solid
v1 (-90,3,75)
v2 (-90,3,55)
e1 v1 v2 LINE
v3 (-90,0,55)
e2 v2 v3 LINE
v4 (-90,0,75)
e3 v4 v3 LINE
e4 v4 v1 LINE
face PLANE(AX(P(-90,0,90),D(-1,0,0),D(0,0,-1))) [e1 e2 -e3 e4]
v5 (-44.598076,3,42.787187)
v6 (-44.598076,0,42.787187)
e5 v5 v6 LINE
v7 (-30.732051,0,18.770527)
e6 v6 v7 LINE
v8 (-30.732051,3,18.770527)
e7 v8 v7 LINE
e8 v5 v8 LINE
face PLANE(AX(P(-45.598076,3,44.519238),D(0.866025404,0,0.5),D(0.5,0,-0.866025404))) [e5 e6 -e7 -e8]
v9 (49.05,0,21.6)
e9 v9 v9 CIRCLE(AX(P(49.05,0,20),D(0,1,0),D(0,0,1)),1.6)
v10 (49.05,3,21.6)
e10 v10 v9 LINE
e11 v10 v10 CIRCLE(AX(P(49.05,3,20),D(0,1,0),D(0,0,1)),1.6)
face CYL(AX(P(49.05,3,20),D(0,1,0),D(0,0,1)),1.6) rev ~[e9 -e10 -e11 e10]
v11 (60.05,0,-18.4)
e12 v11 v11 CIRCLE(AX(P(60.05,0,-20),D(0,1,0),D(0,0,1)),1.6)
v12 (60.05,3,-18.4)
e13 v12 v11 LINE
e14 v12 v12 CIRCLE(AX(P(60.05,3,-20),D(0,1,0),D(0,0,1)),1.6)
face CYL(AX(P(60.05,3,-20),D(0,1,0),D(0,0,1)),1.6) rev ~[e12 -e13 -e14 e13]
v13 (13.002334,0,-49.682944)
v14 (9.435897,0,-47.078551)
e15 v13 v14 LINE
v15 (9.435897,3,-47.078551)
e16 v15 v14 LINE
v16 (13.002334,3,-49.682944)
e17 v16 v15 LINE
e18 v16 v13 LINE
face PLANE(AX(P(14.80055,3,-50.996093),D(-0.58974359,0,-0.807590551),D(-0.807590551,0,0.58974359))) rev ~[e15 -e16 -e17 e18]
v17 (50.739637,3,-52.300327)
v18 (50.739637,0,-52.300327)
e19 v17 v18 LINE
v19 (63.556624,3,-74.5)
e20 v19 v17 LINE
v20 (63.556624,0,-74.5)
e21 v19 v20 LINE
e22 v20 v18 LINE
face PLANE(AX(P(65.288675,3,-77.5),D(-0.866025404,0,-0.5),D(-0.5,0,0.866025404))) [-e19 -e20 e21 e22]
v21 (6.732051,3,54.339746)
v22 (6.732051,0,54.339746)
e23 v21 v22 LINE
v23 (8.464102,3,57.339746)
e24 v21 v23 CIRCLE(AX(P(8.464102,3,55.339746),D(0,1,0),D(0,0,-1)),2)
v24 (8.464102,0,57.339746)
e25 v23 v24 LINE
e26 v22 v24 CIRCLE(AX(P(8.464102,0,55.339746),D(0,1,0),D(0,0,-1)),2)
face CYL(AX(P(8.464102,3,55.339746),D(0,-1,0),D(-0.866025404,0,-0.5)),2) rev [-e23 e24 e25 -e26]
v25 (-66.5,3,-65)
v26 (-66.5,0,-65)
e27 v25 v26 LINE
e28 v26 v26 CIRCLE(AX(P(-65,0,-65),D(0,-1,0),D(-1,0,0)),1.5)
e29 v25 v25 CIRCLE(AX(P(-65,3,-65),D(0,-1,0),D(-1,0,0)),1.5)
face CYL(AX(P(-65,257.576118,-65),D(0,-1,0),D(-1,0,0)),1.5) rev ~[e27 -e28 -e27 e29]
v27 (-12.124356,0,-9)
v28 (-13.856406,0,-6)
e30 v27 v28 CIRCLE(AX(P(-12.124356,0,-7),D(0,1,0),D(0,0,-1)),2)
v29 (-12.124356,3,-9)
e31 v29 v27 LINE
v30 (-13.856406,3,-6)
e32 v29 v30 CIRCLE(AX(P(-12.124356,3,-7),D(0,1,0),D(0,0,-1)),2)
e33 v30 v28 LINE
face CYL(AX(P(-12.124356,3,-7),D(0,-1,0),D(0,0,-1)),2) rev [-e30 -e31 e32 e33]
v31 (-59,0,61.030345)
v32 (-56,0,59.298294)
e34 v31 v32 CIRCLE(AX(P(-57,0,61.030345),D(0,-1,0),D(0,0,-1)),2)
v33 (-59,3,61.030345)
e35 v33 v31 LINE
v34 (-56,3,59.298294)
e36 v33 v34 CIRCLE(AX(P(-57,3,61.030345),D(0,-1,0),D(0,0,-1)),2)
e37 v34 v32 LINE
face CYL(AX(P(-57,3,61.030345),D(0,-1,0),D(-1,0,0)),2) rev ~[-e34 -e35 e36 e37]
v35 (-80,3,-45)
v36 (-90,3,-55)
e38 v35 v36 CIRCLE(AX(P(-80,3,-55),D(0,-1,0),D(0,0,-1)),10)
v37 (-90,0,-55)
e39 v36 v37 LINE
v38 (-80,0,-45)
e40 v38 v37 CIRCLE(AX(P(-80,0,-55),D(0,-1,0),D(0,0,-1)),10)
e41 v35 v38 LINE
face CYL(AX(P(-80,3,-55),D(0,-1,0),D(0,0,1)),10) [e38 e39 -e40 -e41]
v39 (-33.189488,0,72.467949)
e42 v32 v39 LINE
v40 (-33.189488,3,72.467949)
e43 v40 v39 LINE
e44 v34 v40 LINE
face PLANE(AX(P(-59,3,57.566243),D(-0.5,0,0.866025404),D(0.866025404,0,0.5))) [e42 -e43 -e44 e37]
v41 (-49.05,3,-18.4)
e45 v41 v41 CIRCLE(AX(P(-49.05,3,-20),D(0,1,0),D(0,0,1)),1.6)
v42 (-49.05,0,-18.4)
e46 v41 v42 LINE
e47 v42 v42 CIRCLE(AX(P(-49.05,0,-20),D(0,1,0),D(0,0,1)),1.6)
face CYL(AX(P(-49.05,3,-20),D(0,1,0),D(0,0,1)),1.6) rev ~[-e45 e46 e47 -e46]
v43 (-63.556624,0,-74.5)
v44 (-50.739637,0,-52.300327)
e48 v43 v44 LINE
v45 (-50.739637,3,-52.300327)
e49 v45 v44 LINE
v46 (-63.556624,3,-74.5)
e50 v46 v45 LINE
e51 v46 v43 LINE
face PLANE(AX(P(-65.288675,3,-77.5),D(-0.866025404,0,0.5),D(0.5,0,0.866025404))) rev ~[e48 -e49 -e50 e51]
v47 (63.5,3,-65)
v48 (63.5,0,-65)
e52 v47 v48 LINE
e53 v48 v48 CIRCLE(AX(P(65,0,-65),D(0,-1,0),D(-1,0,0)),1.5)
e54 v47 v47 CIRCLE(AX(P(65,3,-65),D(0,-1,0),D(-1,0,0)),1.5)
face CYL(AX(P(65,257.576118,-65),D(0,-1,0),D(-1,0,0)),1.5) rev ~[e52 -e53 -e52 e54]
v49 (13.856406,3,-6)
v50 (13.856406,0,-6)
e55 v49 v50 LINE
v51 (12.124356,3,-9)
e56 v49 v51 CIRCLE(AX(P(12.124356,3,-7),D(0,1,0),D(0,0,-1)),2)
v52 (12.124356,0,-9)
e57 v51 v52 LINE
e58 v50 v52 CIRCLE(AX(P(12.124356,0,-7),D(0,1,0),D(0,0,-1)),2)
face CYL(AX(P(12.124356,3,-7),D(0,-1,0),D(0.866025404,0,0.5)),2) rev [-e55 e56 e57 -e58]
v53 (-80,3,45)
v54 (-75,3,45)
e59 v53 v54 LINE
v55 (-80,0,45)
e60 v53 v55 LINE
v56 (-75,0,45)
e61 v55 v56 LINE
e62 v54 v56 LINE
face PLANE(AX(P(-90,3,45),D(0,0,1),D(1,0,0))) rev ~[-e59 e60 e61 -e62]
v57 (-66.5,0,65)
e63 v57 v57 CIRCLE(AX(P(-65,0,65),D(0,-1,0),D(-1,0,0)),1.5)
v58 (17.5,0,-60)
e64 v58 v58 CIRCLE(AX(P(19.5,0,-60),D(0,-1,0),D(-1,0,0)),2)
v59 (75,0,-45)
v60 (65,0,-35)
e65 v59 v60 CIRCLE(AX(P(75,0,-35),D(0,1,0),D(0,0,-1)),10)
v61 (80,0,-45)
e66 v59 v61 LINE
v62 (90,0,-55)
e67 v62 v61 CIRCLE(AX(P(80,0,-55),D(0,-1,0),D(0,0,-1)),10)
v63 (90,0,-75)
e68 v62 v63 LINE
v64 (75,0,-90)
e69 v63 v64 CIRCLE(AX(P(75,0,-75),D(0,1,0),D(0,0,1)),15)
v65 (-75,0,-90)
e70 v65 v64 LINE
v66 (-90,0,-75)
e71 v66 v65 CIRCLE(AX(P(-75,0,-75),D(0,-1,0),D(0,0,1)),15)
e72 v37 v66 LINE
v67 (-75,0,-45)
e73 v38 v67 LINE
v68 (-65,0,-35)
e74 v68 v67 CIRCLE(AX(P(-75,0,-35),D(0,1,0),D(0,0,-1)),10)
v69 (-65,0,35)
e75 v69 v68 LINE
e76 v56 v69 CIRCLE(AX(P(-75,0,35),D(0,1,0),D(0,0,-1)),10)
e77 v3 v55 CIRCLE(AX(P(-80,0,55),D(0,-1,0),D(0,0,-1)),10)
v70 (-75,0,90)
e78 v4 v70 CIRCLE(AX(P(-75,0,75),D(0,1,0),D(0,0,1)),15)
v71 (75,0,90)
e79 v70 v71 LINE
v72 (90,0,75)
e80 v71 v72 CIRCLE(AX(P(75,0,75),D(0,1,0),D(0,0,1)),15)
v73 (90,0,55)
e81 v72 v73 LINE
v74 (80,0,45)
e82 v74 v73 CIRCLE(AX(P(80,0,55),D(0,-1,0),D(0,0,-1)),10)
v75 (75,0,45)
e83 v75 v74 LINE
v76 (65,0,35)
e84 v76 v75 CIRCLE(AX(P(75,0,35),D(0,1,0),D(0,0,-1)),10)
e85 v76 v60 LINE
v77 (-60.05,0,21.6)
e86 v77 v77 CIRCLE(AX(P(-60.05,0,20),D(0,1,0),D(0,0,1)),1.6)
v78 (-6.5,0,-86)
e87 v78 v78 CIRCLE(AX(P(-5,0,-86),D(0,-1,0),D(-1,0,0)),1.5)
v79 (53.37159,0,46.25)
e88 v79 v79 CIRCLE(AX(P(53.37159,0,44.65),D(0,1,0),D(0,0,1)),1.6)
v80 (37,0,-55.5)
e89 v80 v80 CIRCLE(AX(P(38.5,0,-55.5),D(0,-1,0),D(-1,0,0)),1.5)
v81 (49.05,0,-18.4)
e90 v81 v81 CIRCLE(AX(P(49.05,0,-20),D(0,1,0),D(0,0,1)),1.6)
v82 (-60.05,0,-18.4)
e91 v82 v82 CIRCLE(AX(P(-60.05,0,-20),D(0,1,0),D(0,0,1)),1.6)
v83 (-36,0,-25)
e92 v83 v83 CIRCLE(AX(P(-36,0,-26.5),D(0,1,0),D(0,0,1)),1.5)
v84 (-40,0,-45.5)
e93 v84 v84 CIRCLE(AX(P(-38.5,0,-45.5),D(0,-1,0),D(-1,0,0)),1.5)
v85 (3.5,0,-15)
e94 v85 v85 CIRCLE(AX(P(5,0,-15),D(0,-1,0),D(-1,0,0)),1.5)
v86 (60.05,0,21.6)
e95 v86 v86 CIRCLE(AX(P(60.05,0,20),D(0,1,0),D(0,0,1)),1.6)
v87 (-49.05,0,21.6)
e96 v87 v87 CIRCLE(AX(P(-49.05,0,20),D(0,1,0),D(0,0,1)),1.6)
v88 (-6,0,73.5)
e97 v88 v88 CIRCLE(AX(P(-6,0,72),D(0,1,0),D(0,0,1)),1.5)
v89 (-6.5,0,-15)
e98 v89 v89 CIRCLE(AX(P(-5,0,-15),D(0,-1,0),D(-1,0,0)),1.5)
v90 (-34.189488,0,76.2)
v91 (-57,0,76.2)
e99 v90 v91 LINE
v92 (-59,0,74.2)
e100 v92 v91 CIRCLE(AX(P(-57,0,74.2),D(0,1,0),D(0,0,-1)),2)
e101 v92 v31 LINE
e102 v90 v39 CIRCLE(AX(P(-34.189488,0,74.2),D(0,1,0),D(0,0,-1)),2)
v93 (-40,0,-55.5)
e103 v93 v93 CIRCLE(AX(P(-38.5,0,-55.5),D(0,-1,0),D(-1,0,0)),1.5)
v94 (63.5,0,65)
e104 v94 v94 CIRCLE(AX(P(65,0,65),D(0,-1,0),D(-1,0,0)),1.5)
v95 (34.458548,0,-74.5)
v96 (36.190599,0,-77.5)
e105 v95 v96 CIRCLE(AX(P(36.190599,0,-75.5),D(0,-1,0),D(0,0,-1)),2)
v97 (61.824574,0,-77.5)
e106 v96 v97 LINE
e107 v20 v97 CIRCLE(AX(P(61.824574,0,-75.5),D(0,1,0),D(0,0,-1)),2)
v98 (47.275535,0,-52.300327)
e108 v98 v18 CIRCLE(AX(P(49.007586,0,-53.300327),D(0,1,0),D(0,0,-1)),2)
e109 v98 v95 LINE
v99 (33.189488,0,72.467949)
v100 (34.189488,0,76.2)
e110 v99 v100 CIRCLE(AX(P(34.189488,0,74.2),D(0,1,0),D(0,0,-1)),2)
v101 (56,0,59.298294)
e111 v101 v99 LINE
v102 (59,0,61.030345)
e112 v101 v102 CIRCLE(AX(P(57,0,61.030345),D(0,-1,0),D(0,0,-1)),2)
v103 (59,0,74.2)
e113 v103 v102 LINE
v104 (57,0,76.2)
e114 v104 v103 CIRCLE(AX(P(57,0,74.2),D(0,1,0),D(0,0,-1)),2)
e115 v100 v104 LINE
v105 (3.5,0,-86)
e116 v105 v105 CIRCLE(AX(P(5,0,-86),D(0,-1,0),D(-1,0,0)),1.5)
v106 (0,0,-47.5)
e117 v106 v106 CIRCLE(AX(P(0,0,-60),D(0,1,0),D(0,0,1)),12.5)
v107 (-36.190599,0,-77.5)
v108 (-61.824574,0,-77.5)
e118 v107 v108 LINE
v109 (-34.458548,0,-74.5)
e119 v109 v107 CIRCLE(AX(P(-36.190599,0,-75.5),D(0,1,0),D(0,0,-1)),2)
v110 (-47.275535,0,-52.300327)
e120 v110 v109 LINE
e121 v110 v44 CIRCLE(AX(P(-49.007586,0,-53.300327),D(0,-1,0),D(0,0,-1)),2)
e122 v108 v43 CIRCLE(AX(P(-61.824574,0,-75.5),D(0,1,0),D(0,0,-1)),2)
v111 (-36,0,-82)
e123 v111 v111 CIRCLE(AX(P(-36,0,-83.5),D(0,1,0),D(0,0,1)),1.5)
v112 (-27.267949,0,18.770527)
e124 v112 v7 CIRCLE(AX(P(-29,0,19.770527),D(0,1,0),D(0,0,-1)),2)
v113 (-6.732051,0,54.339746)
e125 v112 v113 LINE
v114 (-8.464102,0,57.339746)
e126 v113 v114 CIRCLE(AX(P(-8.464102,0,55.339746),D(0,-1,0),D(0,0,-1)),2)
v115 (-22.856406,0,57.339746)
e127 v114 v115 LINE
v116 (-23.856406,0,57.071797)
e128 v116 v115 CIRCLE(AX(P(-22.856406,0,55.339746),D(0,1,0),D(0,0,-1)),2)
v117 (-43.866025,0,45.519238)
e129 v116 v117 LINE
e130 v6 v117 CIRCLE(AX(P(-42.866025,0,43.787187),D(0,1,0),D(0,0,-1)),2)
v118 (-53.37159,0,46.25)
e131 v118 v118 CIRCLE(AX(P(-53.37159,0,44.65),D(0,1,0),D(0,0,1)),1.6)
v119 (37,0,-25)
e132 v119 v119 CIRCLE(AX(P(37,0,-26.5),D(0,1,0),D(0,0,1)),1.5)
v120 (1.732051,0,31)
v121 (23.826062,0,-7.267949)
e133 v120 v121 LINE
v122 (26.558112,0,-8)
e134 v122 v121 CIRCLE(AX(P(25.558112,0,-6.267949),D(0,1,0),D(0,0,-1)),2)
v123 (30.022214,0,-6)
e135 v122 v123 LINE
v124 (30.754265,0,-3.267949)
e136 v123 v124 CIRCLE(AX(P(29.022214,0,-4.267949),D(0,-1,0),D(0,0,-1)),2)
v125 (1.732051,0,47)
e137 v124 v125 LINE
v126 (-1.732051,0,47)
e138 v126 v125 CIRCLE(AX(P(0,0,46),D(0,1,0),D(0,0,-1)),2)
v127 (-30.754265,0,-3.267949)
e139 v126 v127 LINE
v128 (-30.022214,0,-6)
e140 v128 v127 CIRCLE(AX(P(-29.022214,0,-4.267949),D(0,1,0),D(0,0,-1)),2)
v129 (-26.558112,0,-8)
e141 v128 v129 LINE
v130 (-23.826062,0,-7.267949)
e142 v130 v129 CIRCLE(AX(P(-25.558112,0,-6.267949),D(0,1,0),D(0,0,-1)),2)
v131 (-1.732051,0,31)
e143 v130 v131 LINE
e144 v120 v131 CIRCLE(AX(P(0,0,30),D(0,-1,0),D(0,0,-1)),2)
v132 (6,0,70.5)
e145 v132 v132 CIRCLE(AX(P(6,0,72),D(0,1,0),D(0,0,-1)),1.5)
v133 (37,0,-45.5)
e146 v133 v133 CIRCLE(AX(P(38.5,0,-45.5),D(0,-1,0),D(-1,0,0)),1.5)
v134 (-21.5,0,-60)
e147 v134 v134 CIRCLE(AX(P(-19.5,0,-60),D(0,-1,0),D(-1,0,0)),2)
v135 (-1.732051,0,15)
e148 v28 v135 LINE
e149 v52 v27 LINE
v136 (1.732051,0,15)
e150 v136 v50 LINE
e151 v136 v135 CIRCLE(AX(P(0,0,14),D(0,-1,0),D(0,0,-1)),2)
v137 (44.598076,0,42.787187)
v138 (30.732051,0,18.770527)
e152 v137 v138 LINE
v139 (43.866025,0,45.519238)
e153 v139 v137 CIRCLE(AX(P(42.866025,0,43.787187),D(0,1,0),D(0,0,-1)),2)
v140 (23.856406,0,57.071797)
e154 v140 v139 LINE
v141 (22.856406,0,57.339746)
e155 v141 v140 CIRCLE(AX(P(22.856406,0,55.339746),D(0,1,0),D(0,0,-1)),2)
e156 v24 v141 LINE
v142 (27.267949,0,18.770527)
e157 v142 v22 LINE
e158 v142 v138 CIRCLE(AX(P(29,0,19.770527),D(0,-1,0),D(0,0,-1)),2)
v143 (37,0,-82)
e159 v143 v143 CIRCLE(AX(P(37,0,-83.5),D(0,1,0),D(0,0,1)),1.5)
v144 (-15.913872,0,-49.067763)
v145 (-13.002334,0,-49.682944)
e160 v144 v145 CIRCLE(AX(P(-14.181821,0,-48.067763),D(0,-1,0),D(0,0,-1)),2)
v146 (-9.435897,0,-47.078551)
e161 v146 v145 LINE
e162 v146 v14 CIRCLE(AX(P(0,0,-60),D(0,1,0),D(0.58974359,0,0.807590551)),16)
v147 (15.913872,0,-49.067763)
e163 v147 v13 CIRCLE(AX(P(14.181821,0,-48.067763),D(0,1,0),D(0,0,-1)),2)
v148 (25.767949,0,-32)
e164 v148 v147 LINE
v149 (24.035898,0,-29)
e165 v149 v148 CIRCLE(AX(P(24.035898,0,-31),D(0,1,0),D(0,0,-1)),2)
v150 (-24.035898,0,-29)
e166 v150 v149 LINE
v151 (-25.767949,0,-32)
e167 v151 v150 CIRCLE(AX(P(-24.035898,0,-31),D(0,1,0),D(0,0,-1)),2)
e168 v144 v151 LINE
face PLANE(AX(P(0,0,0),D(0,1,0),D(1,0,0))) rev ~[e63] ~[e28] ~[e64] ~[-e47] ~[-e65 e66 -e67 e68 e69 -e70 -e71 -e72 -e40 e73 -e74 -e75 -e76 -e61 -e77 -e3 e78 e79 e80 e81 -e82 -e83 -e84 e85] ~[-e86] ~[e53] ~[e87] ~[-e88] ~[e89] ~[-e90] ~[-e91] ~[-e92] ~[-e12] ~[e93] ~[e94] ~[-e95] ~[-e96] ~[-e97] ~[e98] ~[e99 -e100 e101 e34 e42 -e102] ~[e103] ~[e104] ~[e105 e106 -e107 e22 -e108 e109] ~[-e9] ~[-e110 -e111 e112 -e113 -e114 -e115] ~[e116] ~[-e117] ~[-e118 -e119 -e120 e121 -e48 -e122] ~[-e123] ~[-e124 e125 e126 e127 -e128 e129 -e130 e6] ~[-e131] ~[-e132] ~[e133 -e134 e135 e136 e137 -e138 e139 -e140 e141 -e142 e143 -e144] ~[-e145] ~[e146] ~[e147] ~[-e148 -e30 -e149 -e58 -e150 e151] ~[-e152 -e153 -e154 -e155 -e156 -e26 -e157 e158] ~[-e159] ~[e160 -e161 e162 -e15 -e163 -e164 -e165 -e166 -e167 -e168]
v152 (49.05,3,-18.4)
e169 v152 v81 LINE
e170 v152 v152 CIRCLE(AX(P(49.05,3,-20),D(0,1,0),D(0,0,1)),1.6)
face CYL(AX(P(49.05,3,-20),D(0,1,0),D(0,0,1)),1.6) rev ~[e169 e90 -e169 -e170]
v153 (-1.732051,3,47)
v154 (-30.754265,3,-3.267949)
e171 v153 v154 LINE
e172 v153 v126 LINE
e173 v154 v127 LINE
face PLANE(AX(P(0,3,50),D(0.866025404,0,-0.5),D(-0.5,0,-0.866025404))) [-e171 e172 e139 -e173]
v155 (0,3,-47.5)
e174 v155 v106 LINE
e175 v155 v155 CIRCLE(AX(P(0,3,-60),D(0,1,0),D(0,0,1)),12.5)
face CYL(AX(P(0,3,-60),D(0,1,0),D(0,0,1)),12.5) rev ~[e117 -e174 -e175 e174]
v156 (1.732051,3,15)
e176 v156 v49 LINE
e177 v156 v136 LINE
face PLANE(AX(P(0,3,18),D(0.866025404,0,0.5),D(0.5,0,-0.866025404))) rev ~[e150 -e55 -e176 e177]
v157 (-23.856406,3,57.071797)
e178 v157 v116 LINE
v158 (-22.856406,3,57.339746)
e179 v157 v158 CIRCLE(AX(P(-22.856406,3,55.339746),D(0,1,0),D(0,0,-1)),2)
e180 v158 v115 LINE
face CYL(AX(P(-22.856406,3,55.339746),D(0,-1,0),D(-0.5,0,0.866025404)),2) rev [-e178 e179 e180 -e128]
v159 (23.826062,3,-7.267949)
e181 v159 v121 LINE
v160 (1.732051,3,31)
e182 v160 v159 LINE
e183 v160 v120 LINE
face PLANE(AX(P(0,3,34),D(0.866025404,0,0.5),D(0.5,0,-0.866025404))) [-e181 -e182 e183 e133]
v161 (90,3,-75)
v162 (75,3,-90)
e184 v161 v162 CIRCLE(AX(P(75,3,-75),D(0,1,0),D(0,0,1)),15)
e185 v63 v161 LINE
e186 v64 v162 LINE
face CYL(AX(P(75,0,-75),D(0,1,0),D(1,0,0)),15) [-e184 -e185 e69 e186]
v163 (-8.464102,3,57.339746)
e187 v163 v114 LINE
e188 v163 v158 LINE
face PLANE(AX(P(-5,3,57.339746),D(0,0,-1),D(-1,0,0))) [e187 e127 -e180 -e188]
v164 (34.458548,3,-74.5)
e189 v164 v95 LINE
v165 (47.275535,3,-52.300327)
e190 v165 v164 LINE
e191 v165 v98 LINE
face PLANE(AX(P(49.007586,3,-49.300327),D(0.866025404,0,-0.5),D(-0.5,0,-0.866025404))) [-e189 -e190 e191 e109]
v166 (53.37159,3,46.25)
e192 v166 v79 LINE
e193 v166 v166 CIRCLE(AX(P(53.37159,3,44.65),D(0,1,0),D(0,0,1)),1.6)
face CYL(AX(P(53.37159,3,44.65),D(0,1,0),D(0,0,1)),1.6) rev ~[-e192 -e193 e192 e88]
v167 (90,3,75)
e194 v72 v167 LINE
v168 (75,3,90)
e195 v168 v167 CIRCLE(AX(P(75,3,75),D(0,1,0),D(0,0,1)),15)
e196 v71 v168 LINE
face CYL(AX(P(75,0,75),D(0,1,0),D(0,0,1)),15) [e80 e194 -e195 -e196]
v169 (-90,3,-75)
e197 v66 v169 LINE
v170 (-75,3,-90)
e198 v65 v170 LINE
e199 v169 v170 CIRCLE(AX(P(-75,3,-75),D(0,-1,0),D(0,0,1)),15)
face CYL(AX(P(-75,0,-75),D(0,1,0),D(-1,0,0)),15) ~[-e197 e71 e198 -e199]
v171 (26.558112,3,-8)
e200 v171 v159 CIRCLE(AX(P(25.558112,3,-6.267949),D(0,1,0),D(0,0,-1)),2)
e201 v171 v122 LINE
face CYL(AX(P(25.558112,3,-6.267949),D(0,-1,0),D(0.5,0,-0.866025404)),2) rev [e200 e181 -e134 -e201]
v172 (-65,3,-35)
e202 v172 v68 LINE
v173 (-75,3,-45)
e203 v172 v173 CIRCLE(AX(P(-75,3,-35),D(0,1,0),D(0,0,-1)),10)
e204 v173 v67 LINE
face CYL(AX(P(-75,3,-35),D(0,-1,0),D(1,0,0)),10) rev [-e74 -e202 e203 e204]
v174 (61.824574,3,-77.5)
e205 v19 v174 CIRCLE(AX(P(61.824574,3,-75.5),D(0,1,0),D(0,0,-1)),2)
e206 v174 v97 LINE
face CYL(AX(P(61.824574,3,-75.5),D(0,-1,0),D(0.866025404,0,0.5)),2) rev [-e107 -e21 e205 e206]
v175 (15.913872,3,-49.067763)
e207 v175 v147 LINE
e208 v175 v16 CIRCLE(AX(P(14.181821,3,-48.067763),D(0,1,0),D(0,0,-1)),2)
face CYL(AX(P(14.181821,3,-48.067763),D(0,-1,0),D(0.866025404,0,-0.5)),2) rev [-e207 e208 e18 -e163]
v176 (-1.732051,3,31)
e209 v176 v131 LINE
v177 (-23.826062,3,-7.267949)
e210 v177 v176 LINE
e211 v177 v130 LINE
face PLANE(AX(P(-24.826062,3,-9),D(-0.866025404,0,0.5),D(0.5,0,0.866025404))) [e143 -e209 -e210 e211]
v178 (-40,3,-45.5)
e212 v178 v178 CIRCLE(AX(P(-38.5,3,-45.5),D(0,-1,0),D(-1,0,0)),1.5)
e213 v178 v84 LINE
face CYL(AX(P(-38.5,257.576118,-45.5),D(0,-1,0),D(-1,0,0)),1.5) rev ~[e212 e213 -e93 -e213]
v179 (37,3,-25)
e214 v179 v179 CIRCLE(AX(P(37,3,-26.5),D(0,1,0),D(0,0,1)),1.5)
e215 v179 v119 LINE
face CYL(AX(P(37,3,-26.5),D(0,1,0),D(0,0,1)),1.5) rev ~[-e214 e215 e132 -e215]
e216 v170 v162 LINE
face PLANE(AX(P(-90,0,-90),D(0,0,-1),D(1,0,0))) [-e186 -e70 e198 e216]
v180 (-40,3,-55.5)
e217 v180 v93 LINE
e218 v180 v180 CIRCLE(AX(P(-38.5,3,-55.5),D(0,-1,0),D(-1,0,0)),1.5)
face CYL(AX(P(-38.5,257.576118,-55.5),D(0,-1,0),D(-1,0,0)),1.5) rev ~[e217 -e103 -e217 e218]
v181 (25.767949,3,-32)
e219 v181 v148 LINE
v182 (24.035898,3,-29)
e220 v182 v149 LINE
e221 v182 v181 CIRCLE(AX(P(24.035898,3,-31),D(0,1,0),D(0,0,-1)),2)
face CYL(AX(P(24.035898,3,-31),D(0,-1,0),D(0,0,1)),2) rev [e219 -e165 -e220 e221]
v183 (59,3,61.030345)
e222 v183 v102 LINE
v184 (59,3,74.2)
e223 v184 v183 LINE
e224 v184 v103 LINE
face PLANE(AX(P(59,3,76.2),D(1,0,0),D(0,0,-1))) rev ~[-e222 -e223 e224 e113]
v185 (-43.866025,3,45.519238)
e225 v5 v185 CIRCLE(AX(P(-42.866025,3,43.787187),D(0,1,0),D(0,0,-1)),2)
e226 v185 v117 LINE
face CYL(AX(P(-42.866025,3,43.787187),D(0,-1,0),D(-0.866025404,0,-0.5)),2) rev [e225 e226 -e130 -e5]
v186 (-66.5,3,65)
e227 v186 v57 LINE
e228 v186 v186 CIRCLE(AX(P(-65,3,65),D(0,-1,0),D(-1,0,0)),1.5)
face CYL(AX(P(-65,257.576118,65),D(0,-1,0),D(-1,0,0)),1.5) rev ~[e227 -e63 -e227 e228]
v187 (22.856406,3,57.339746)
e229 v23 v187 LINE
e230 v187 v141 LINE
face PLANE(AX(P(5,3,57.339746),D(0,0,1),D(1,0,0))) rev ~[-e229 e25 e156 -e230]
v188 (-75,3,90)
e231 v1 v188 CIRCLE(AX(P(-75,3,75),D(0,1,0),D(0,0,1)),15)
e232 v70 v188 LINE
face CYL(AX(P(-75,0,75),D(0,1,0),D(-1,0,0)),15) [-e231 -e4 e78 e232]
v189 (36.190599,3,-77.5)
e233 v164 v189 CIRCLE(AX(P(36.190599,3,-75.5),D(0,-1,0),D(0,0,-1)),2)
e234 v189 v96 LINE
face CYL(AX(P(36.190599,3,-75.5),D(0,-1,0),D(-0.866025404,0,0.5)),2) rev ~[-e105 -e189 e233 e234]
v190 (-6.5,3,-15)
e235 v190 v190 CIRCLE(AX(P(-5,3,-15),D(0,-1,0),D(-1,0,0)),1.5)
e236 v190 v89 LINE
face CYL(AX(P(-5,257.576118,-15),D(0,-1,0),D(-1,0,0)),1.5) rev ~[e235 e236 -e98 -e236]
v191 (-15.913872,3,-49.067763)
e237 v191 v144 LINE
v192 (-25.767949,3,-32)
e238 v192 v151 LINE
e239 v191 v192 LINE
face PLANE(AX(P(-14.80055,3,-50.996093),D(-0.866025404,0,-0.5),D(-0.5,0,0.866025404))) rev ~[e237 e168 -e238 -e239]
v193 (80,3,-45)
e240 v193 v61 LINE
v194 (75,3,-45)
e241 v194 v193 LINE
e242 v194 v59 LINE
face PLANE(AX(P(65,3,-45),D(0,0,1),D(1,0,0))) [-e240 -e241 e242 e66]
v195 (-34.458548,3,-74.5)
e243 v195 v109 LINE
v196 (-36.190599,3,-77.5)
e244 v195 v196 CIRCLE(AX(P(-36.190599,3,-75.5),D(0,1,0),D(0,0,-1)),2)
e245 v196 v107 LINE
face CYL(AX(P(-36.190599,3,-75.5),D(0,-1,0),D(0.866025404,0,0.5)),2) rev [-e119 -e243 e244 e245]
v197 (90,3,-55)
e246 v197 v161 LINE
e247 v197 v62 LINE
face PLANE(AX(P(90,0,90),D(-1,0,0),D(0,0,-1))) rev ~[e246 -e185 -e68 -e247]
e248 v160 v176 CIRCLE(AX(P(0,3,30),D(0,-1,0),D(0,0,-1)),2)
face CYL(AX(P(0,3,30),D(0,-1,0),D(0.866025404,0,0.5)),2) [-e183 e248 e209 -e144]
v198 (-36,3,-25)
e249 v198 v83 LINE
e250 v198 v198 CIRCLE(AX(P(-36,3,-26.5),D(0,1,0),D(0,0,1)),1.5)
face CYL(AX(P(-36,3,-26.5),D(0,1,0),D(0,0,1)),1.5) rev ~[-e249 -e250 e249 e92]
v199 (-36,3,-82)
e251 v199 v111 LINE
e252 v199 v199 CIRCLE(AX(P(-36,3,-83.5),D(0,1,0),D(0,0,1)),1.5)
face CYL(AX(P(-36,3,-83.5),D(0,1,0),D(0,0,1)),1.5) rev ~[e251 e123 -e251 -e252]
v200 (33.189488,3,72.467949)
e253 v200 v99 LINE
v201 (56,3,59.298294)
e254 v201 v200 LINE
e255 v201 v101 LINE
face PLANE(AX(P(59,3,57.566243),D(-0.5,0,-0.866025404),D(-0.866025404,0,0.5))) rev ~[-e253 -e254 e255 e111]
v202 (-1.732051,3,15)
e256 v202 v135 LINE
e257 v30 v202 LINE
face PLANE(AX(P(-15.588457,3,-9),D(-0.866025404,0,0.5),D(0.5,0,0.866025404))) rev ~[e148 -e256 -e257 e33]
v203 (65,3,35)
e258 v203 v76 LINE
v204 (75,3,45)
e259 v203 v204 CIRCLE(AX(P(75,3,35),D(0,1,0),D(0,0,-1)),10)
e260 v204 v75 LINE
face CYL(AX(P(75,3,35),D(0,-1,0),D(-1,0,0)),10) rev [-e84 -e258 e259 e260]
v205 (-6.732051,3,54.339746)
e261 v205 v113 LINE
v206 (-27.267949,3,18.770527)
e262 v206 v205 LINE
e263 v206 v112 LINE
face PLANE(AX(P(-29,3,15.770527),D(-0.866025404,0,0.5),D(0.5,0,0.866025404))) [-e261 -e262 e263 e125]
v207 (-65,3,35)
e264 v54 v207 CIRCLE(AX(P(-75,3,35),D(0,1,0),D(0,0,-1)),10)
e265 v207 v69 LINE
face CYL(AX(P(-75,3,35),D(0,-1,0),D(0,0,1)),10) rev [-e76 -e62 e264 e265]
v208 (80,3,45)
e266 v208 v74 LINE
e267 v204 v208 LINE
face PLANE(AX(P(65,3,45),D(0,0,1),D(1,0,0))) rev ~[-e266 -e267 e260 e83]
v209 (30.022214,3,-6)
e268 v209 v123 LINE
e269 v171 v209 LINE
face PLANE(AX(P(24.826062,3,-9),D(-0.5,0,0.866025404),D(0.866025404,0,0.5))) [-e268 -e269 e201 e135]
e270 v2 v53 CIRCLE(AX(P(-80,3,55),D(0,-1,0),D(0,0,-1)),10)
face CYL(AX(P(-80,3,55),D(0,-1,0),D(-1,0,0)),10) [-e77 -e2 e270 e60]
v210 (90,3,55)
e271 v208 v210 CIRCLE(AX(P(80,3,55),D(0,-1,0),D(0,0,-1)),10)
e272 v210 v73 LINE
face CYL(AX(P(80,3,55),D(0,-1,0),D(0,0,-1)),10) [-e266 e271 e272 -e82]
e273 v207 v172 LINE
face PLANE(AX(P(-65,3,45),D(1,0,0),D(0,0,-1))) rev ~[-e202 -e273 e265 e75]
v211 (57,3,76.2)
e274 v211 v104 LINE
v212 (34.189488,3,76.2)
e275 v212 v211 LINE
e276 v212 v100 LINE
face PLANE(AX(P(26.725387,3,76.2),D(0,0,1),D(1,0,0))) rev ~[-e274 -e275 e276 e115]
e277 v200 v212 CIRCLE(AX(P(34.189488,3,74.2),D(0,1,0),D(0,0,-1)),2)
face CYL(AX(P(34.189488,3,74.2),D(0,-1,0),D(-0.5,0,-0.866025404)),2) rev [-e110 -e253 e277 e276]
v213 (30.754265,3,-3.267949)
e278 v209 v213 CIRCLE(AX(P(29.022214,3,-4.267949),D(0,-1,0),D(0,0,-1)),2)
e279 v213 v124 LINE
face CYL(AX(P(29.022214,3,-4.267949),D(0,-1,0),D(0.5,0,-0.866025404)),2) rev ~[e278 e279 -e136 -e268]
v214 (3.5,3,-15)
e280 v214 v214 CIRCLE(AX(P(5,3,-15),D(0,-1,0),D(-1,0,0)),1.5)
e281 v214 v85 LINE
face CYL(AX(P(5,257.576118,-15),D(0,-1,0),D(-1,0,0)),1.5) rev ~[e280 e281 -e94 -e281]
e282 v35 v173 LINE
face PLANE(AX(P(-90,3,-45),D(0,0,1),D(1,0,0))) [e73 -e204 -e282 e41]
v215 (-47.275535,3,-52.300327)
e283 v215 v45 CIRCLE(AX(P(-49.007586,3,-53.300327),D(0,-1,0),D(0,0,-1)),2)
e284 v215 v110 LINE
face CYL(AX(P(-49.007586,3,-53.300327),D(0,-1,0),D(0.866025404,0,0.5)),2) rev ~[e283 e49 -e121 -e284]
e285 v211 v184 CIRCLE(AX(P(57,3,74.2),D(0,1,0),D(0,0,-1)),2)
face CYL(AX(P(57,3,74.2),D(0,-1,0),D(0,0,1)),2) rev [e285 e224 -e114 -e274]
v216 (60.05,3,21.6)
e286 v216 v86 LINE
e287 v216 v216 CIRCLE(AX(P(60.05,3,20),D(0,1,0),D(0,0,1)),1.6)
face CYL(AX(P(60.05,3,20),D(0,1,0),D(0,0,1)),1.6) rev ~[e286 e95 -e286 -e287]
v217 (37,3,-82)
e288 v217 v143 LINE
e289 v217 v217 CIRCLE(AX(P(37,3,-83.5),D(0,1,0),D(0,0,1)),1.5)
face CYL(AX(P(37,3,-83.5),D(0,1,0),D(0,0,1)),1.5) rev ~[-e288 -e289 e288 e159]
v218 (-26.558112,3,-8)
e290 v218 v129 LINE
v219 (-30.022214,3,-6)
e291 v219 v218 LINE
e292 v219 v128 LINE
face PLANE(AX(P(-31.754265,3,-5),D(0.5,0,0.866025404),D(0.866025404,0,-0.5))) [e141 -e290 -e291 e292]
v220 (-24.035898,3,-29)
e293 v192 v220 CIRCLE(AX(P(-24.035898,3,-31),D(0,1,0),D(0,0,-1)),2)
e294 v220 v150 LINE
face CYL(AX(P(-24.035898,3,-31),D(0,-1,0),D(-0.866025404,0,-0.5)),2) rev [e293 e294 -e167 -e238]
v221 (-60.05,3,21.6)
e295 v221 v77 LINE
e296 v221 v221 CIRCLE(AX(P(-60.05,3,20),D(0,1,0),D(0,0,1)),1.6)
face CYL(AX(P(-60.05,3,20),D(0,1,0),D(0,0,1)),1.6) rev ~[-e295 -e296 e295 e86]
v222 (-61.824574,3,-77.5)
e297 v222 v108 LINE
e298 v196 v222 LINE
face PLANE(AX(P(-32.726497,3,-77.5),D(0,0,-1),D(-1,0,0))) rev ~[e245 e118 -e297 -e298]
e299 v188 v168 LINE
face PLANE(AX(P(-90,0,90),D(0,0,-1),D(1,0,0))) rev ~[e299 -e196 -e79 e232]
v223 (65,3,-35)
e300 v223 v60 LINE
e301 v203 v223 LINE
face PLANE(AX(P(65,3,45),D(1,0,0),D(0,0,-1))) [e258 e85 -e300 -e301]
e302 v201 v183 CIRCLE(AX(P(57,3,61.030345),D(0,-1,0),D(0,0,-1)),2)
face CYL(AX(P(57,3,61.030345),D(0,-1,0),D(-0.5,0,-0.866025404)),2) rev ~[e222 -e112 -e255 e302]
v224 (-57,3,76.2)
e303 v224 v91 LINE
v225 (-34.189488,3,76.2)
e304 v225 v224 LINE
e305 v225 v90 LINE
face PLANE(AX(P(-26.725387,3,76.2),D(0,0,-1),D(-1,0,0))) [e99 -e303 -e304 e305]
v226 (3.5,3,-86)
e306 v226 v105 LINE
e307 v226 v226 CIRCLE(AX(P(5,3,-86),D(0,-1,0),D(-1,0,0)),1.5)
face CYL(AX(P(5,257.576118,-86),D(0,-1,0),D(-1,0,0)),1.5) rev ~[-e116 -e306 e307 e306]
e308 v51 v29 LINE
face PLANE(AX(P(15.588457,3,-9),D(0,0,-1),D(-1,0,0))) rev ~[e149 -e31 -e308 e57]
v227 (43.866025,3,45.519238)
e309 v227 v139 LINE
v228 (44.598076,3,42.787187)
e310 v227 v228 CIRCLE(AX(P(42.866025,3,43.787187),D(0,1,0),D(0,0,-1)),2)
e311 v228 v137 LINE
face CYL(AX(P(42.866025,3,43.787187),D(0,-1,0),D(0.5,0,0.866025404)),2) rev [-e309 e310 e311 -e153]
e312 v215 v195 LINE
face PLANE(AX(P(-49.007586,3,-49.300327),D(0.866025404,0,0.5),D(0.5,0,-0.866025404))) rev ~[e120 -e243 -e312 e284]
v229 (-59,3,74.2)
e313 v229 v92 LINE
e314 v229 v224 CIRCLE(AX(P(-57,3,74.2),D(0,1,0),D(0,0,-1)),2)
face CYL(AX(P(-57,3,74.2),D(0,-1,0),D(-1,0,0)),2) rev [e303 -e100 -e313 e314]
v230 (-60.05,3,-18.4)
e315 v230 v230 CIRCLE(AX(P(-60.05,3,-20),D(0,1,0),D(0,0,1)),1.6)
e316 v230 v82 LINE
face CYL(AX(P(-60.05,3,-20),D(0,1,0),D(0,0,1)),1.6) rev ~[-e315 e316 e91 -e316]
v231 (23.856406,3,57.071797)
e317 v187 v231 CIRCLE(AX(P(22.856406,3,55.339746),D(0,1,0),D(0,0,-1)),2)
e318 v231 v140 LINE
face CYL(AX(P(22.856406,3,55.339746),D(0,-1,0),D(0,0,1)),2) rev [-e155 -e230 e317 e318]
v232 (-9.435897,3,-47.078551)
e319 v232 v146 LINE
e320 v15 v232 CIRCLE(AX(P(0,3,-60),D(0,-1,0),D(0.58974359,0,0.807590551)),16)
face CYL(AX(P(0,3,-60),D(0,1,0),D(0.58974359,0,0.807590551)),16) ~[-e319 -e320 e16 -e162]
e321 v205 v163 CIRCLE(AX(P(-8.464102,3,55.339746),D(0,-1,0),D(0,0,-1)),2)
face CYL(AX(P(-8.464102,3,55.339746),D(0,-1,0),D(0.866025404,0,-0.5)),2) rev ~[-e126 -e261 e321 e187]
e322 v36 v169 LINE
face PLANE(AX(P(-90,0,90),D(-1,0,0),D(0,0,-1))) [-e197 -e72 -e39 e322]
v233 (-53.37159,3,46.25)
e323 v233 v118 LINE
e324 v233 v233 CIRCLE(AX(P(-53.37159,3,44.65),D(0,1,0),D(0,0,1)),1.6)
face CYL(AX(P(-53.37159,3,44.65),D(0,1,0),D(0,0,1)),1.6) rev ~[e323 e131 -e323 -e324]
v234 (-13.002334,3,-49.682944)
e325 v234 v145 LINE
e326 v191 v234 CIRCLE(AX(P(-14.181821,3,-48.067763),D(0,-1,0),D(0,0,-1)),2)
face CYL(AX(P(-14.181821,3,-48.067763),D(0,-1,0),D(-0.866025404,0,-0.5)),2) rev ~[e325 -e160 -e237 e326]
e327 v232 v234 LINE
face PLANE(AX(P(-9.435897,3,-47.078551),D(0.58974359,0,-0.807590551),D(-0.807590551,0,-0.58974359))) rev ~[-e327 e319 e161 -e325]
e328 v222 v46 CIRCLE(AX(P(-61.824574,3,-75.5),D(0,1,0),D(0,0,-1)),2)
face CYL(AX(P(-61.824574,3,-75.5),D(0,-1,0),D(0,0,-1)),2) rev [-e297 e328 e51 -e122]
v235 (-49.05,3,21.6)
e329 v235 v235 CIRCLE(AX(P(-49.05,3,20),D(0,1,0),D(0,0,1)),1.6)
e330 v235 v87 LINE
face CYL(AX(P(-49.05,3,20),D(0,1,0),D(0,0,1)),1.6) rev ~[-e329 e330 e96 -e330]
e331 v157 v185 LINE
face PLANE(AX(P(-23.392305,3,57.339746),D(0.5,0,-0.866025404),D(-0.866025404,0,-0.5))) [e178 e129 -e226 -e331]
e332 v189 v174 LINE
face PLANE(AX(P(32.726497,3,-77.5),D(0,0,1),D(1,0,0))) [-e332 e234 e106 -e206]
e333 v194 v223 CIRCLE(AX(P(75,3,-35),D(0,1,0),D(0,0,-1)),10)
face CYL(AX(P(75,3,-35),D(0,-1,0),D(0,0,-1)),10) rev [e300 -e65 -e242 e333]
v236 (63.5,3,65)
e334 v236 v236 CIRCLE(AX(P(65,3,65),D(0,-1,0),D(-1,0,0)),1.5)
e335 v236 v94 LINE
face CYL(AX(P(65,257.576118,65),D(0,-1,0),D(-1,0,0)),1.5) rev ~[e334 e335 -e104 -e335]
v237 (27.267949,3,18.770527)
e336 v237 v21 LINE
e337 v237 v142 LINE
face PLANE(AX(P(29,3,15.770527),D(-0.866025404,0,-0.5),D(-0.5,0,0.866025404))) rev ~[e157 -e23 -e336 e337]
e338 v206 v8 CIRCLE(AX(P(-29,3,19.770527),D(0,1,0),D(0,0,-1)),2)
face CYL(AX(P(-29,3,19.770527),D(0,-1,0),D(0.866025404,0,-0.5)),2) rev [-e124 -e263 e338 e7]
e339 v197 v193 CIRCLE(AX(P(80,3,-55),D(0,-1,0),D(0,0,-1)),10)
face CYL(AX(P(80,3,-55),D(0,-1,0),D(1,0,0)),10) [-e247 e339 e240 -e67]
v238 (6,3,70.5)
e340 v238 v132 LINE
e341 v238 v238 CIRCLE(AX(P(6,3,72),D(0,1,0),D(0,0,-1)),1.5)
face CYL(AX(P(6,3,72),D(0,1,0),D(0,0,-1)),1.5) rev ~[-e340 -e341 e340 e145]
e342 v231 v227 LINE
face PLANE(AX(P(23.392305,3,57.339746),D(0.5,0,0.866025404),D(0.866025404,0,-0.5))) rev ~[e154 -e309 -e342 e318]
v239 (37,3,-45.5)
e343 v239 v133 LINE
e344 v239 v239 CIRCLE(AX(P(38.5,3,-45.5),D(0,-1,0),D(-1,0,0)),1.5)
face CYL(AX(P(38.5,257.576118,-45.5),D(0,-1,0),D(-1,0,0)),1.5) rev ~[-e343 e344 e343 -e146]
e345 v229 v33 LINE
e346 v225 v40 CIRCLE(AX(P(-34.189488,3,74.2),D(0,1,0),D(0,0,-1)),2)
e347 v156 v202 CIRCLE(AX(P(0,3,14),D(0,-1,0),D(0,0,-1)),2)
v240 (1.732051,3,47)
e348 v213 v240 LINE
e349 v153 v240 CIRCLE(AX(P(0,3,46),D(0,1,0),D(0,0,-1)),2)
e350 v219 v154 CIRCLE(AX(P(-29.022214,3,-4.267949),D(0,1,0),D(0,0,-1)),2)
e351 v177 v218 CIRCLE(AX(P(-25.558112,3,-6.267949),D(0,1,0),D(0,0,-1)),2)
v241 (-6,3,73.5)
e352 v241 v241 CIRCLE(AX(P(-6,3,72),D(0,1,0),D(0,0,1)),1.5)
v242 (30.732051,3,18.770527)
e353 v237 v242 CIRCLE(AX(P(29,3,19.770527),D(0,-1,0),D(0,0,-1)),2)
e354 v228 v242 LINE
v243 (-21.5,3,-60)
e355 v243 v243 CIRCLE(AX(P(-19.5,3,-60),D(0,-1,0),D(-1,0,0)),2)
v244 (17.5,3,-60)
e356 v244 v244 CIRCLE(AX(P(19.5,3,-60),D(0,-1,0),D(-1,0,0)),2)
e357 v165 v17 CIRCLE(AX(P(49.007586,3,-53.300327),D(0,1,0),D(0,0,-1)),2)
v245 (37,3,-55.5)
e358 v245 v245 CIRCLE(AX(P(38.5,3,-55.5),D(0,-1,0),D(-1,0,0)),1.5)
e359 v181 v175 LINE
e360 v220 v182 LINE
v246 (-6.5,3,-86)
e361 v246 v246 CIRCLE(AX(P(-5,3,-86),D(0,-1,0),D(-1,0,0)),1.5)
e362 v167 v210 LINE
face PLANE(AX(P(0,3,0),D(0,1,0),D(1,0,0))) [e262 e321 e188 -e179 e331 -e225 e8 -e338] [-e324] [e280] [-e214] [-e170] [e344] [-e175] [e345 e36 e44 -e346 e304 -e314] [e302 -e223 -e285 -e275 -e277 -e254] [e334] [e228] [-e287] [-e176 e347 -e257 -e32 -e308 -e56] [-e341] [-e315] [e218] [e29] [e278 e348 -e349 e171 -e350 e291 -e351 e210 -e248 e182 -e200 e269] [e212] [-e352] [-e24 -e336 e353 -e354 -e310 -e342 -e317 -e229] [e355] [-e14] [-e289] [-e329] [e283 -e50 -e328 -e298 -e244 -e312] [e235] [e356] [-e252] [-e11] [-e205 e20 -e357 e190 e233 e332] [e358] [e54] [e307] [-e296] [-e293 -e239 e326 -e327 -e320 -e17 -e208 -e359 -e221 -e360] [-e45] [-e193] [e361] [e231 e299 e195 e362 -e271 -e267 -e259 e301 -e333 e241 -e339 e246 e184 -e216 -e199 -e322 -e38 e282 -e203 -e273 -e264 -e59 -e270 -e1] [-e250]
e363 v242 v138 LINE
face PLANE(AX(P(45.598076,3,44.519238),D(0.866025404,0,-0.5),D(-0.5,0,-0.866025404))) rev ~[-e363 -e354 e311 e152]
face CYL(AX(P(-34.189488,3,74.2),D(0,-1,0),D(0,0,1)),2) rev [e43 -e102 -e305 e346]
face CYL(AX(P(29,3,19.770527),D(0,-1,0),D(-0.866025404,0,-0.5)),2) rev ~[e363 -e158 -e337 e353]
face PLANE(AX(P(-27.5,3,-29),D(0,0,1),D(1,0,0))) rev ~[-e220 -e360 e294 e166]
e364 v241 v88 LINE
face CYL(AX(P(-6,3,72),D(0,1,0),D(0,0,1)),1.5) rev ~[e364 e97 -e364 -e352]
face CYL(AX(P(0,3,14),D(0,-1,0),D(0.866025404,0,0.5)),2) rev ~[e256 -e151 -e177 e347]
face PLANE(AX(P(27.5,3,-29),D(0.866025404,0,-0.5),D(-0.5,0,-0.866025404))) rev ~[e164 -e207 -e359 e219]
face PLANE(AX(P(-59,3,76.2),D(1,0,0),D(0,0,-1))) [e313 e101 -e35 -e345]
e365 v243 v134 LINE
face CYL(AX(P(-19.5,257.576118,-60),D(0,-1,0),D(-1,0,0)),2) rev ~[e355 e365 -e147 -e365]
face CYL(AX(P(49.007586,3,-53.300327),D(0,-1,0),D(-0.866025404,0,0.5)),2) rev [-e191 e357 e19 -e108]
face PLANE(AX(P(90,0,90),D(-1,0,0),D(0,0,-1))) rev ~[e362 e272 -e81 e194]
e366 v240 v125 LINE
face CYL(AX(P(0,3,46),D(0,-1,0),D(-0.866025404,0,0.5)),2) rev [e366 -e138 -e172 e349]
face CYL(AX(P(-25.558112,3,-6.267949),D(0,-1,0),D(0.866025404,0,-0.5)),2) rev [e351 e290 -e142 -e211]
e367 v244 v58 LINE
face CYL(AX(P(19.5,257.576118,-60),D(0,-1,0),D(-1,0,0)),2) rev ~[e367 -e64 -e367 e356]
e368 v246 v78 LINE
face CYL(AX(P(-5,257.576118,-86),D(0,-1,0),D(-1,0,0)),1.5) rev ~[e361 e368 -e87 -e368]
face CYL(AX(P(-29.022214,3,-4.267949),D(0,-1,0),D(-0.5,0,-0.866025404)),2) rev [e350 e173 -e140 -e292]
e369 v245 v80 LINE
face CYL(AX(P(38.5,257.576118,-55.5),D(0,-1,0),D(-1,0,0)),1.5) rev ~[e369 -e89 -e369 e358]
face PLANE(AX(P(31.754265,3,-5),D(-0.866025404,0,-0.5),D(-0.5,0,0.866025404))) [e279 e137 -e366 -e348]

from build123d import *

# Parameters (mm, degrees)
SKETCH1_W             = 180
SKETCH1_H             = 180
BOSS_EXTRUDE1_DEPTH   = 3
FILLET1_R             = 15
SKETCH2_R             = 1.6
SKETCH2_W             = 25
SKETCH2_H             = 90
CUT_EXTRUDE2_DEPTH    = 128.314571044
FILLET2_R             = 10
HOLE_WIZARD_3_0_3_1_D = 3
HOLE_WIZARD_3_0_3_2_D = 3
HOLE_WIZARD_4_0_4_1_D = 4
SKETCH3_R             = 1.5
SKETCH3_R_2           = 1.6
CUT_EXTRUDE3_DEPTH    = 128.314571044
SKETCH4_R             = 1.5
CUT_EXTRUDE4_DEPTH    = 128.314571044
SKETCH5_R             = 12.5
CUT_EXTRUDE5_DEPTH    = 128.314571044
FILLET3_R             = 2


with BuildPart() as part:
    # Sketch1 → Boss-Extrude1 (new body)
    with BuildSketch(Plane(origin=(0, 0, 0), x_dir=(1, 0, 0), z_dir=(0, 1, 0))):
        Rectangle(SKETCH1_W, SKETCH1_H)
    extrude(amount=BOSS_EXTRUDE1_DEPTH)

    # Fillet1
    fillet1_edges = [part.edges().sort_by_distance(p)[0] for p in [
        (90, 1.5, 90),
        (-90, 1.5, 90),
        (-90, 1.5, -90),
        (90, 1.5, -90),
    ]]
    fillet(fillet1_edges, radius=FILLET1_R)

    # Sketch2 → Cut-Extrude2 (cut, through all)
    with BuildSketch(Plane(origin=(0, 3, 0), x_dir=(1, 0, 0), z_dir=(0, 1, 0))):
        with Locations(Location((-60.05, 20, 0), (0, 0, 270))):
            Circle(SKETCH2_R)
        with Locations(Location((-49.05, 20, 0), (0, 0, 270))):
            Circle(SKETCH2_R)
        with Locations(Location((-60.05, -20, 0), (0, 0, 270))):
            Circle(SKETCH2_R)
        with Locations(Location((-49.05, -20, 0), (0, 0, 270))):
            Circle(SKETCH2_R)
        with Locations(Location((49.05, 20, 0), (0, 0, 270))):
            Circle(SKETCH2_R)
        with Locations(Location((60.05, 20, 0), (0, 0, 270))):
            Circle(SKETCH2_R)
        with Locations(Location((49.05, -20, 0), (0, 0, 270))):
            Circle(SKETCH2_R)
        with Locations(Location((60.05, -20, 0), (0, 0, 270))):
            Circle(SKETCH2_R)
        with Locations((-77.5, 0)):
            Rectangle(SKETCH2_W, SKETCH2_H)
        with Locations((77.5, 0)):
            Rectangle(SKETCH2_W, SKETCH2_H)
    extrude(amount=-CUT_EXTRUDE2_DEPTH, mode=Mode.SUBTRACT)

    # Fillet2
    fillet2_edges = [part.edges().sort_by_distance(p)[0] for p in [
        (-65, 1.5, -45),
        (-65, 1.5, 45),
        (-90, 1.5, 45),
        (-90, 1.5, -45),
        (90, 1.5, -45),
        (90, 1.5, 45),
        (65, 1.5, 45),
        (65, 1.5, -45),
    ]]
    fillet(fillet2_edges, radius=FILLET2_R)

    # Диаметр отверстия Ø3.0 (3)1 (through all)
    with Locations(Plane(origin=(0, 3, 0), x_dir=(1, 0, 0), z_dir=(0, 1, 0))):
        with Locations((-65, -65), (-65, 65), (65, 65), (65, -65)):
            Hole(HOLE_WIZARD_3_0_3_1_D / 2)

    # Диаметр отверстия Ø3.0 (3)2 (through all)
    with Locations(Plane(origin=(0, 3, 0), x_dir=(1, 0, 0), z_dir=(0, 1, 0))):
        with Locations((-5, 15), (-38.5, 45.5), (-38.5, 55.5), (5, 15), (38.5, 45.5), (38.5, 55.5), (5, 86), (-5, 86)):
            Hole(HOLE_WIZARD_3_0_3_2_D / 2)

    # Диаметр отверстия Ø4.0 (4)1 (through all)
    with Locations(Plane(origin=(0, 3, 0), x_dir=(1, 0, 0), z_dir=(0, 1, 0))):
        with Locations((-19.5, 60), (19.5, 60)):
            Hole(HOLE_WIZARD_4_0_4_1_D / 2)

    # Sketch3 → Cut-Extrude3 (cut, through all)
    with BuildSketch(Plane(origin=(0, 3, 0), x_dir=(1, 0, 0), z_dir=(0, 1, 0))):
        with Locations(Location((-6, -72, 0), (0, 0, 270))):
            Circle(SKETCH3_R)
        with Locations(Location((6, -72, 0), (0, 0, 90))):
            Circle(SKETCH3_R)
        with Locations(Location((53.371589587, -44.65, 0), (0, 0, 270))):
            Circle(SKETCH3_R_2)
        with Locations(Location((-53.371589587, -44.65, 0), (0, 0, 270))):
            Circle(SKETCH3_R_2)
    extrude(amount=-CUT_EXTRUDE3_DEPTH, mode=Mode.SUBTRACT)

    # Sketch4 → Cut-Extrude4 (cut, through all)
    with BuildSketch(Plane(origin=(0, 3, 0), x_dir=(1, 0, 0), z_dir=(0, 1, 0))):
        with Locations(Location((-36, 83.5, 0), (0, 0, 270))):
            Circle(SKETCH4_R)
        with Locations(Location((37, 83.5, 0), (0, 0, 270))):
            Circle(SKETCH4_R)
        with Locations(Location((37, 26.5, 0), (0, 0, 270))):
            Circle(SKETCH4_R)
        with Locations(Location((-36, 26.5, 0), (0, 0, 270))):
            Circle(SKETCH4_R)
    extrude(amount=-CUT_EXTRUDE4_DEPTH, mode=Mode.SUBTRACT)

    # Sketch5 → Cut-Extrude5 (cut, through all)
    with BuildSketch(Plane(origin=(0, 3, 0), x_dir=(1, 0, 0), z_dir=(0, 1, 0))):
        with Locations(Location((0, 60, 0), (0, 0, 270))):
            Circle(SKETCH5_R)
        Polygon((31.754264805, 5), (0, -50), (-31.754264805, 5), (-24.826061575, 9), (0, -34), (24.826061575, 9), align=None)
        Polygon((0, -18), (15.588457268, 9), (-15.588457268, 9), align=None)
        Polygon((-5, -57.339745962), (-23.392304845, -57.339745962), (-45.598076211, -44.519237886), (-29, -15.770526581), align=None)
        Polygon((29, -15.770526581), (5, -57.339745962), (23.392304845, -57.339745962), (45.598076211, -44.519237886), align=None)
        with BuildLine():
            Line((-14.800549998, 50.996092632), (-27.5, 29))
            Line((-27.5, 29), (27.5, 29))
            Line((27.5, 29), (14.800549998, 50.996092632))
            Line((14.800549998, 50.996092632), (9.435897436, 47.078551181))
            ThreePointArc((9.435897436, 47.078551181), (0, 44), (-9.435897436, 47.078551181))
            Line((-9.435897436, 47.078551181), (-14.800549998, 50.996092632))
        make_face()
        Polygon((-59, -57.56624327), (-26.725386608, -76.2), (-59, -76.2), align=None)
        Polygon((-49.007586221, 49.3003268), (-32.726497308, 77.5), (-65.288675135, 77.5), align=None)
        Polygon((32.726497308, 77.5), (65.288675135, 77.5), (49.007586221, 49.3003268), align=None)
        Polygon((59, -57.56624327), (26.725386608, -76.2), (59, -76.2), align=None)
    extrude(amount=-CUT_EXTRUDE5_DEPTH, mode=Mode.SUBTRACT)

    # Fillet3
    fillet3_edges = [part.edges().sort_by_distance(p)[0] for p in [
        (0, 1.5, 18),
        (-15.588457268, 1.5, -9),
        (15.588457268, 1.5, -9),
        (-31.754264805, 1.5, -5),
        (-24.826061575, 1.5, -9),
        (0, 1.5, 34),
        (24.826061575, 1.5, -9),
        (31.754264805, 1.5, -5),
        (0, 1.5, 50),
        (-29, 1.5, 15.770526581),
        (-5, 1.5, 57.339745962),
        (-23.392304845, 1.5, 57.339745962),
        (-45.598076211, 1.5, 44.519237886),
        (29, 1.5, 15.770526581),
        (45.598076211, 1.5, 44.519237886),
        (23.392304845, 1.5, 57.339745962),
        (5, 1.5, 57.339745962),
        (27.5, 1.5, -29),
        (-27.5, 1.5, -29),
        (-14.800549998, 1.5, -50.996092632),
        (14.800549998, 1.5, -50.996092632),
        (-49.007586221, 1.5, -49.3003268),
        (-65.288675135, 1.5, -77.5),
        (-32.726497308, 1.5, -77.5),
        (49.007586221, 1.5, -49.3003268),
        (32.726497308, 1.5, -77.5),
        (65.288675135, 1.5, -77.5),
        (-59, 1.5, 76.2),
        (-59, 1.5, 57.56624327),
        (-26.725386608, 1.5, 76.2),
        (59, 1.5, 57.56624327),
        (59, 1.5, 76.2),
        (26.725386608, 1.5, 76.2),
    ]]
    fillet(fillet3_edges, radius=FILLET3_R)


solid = part.part
